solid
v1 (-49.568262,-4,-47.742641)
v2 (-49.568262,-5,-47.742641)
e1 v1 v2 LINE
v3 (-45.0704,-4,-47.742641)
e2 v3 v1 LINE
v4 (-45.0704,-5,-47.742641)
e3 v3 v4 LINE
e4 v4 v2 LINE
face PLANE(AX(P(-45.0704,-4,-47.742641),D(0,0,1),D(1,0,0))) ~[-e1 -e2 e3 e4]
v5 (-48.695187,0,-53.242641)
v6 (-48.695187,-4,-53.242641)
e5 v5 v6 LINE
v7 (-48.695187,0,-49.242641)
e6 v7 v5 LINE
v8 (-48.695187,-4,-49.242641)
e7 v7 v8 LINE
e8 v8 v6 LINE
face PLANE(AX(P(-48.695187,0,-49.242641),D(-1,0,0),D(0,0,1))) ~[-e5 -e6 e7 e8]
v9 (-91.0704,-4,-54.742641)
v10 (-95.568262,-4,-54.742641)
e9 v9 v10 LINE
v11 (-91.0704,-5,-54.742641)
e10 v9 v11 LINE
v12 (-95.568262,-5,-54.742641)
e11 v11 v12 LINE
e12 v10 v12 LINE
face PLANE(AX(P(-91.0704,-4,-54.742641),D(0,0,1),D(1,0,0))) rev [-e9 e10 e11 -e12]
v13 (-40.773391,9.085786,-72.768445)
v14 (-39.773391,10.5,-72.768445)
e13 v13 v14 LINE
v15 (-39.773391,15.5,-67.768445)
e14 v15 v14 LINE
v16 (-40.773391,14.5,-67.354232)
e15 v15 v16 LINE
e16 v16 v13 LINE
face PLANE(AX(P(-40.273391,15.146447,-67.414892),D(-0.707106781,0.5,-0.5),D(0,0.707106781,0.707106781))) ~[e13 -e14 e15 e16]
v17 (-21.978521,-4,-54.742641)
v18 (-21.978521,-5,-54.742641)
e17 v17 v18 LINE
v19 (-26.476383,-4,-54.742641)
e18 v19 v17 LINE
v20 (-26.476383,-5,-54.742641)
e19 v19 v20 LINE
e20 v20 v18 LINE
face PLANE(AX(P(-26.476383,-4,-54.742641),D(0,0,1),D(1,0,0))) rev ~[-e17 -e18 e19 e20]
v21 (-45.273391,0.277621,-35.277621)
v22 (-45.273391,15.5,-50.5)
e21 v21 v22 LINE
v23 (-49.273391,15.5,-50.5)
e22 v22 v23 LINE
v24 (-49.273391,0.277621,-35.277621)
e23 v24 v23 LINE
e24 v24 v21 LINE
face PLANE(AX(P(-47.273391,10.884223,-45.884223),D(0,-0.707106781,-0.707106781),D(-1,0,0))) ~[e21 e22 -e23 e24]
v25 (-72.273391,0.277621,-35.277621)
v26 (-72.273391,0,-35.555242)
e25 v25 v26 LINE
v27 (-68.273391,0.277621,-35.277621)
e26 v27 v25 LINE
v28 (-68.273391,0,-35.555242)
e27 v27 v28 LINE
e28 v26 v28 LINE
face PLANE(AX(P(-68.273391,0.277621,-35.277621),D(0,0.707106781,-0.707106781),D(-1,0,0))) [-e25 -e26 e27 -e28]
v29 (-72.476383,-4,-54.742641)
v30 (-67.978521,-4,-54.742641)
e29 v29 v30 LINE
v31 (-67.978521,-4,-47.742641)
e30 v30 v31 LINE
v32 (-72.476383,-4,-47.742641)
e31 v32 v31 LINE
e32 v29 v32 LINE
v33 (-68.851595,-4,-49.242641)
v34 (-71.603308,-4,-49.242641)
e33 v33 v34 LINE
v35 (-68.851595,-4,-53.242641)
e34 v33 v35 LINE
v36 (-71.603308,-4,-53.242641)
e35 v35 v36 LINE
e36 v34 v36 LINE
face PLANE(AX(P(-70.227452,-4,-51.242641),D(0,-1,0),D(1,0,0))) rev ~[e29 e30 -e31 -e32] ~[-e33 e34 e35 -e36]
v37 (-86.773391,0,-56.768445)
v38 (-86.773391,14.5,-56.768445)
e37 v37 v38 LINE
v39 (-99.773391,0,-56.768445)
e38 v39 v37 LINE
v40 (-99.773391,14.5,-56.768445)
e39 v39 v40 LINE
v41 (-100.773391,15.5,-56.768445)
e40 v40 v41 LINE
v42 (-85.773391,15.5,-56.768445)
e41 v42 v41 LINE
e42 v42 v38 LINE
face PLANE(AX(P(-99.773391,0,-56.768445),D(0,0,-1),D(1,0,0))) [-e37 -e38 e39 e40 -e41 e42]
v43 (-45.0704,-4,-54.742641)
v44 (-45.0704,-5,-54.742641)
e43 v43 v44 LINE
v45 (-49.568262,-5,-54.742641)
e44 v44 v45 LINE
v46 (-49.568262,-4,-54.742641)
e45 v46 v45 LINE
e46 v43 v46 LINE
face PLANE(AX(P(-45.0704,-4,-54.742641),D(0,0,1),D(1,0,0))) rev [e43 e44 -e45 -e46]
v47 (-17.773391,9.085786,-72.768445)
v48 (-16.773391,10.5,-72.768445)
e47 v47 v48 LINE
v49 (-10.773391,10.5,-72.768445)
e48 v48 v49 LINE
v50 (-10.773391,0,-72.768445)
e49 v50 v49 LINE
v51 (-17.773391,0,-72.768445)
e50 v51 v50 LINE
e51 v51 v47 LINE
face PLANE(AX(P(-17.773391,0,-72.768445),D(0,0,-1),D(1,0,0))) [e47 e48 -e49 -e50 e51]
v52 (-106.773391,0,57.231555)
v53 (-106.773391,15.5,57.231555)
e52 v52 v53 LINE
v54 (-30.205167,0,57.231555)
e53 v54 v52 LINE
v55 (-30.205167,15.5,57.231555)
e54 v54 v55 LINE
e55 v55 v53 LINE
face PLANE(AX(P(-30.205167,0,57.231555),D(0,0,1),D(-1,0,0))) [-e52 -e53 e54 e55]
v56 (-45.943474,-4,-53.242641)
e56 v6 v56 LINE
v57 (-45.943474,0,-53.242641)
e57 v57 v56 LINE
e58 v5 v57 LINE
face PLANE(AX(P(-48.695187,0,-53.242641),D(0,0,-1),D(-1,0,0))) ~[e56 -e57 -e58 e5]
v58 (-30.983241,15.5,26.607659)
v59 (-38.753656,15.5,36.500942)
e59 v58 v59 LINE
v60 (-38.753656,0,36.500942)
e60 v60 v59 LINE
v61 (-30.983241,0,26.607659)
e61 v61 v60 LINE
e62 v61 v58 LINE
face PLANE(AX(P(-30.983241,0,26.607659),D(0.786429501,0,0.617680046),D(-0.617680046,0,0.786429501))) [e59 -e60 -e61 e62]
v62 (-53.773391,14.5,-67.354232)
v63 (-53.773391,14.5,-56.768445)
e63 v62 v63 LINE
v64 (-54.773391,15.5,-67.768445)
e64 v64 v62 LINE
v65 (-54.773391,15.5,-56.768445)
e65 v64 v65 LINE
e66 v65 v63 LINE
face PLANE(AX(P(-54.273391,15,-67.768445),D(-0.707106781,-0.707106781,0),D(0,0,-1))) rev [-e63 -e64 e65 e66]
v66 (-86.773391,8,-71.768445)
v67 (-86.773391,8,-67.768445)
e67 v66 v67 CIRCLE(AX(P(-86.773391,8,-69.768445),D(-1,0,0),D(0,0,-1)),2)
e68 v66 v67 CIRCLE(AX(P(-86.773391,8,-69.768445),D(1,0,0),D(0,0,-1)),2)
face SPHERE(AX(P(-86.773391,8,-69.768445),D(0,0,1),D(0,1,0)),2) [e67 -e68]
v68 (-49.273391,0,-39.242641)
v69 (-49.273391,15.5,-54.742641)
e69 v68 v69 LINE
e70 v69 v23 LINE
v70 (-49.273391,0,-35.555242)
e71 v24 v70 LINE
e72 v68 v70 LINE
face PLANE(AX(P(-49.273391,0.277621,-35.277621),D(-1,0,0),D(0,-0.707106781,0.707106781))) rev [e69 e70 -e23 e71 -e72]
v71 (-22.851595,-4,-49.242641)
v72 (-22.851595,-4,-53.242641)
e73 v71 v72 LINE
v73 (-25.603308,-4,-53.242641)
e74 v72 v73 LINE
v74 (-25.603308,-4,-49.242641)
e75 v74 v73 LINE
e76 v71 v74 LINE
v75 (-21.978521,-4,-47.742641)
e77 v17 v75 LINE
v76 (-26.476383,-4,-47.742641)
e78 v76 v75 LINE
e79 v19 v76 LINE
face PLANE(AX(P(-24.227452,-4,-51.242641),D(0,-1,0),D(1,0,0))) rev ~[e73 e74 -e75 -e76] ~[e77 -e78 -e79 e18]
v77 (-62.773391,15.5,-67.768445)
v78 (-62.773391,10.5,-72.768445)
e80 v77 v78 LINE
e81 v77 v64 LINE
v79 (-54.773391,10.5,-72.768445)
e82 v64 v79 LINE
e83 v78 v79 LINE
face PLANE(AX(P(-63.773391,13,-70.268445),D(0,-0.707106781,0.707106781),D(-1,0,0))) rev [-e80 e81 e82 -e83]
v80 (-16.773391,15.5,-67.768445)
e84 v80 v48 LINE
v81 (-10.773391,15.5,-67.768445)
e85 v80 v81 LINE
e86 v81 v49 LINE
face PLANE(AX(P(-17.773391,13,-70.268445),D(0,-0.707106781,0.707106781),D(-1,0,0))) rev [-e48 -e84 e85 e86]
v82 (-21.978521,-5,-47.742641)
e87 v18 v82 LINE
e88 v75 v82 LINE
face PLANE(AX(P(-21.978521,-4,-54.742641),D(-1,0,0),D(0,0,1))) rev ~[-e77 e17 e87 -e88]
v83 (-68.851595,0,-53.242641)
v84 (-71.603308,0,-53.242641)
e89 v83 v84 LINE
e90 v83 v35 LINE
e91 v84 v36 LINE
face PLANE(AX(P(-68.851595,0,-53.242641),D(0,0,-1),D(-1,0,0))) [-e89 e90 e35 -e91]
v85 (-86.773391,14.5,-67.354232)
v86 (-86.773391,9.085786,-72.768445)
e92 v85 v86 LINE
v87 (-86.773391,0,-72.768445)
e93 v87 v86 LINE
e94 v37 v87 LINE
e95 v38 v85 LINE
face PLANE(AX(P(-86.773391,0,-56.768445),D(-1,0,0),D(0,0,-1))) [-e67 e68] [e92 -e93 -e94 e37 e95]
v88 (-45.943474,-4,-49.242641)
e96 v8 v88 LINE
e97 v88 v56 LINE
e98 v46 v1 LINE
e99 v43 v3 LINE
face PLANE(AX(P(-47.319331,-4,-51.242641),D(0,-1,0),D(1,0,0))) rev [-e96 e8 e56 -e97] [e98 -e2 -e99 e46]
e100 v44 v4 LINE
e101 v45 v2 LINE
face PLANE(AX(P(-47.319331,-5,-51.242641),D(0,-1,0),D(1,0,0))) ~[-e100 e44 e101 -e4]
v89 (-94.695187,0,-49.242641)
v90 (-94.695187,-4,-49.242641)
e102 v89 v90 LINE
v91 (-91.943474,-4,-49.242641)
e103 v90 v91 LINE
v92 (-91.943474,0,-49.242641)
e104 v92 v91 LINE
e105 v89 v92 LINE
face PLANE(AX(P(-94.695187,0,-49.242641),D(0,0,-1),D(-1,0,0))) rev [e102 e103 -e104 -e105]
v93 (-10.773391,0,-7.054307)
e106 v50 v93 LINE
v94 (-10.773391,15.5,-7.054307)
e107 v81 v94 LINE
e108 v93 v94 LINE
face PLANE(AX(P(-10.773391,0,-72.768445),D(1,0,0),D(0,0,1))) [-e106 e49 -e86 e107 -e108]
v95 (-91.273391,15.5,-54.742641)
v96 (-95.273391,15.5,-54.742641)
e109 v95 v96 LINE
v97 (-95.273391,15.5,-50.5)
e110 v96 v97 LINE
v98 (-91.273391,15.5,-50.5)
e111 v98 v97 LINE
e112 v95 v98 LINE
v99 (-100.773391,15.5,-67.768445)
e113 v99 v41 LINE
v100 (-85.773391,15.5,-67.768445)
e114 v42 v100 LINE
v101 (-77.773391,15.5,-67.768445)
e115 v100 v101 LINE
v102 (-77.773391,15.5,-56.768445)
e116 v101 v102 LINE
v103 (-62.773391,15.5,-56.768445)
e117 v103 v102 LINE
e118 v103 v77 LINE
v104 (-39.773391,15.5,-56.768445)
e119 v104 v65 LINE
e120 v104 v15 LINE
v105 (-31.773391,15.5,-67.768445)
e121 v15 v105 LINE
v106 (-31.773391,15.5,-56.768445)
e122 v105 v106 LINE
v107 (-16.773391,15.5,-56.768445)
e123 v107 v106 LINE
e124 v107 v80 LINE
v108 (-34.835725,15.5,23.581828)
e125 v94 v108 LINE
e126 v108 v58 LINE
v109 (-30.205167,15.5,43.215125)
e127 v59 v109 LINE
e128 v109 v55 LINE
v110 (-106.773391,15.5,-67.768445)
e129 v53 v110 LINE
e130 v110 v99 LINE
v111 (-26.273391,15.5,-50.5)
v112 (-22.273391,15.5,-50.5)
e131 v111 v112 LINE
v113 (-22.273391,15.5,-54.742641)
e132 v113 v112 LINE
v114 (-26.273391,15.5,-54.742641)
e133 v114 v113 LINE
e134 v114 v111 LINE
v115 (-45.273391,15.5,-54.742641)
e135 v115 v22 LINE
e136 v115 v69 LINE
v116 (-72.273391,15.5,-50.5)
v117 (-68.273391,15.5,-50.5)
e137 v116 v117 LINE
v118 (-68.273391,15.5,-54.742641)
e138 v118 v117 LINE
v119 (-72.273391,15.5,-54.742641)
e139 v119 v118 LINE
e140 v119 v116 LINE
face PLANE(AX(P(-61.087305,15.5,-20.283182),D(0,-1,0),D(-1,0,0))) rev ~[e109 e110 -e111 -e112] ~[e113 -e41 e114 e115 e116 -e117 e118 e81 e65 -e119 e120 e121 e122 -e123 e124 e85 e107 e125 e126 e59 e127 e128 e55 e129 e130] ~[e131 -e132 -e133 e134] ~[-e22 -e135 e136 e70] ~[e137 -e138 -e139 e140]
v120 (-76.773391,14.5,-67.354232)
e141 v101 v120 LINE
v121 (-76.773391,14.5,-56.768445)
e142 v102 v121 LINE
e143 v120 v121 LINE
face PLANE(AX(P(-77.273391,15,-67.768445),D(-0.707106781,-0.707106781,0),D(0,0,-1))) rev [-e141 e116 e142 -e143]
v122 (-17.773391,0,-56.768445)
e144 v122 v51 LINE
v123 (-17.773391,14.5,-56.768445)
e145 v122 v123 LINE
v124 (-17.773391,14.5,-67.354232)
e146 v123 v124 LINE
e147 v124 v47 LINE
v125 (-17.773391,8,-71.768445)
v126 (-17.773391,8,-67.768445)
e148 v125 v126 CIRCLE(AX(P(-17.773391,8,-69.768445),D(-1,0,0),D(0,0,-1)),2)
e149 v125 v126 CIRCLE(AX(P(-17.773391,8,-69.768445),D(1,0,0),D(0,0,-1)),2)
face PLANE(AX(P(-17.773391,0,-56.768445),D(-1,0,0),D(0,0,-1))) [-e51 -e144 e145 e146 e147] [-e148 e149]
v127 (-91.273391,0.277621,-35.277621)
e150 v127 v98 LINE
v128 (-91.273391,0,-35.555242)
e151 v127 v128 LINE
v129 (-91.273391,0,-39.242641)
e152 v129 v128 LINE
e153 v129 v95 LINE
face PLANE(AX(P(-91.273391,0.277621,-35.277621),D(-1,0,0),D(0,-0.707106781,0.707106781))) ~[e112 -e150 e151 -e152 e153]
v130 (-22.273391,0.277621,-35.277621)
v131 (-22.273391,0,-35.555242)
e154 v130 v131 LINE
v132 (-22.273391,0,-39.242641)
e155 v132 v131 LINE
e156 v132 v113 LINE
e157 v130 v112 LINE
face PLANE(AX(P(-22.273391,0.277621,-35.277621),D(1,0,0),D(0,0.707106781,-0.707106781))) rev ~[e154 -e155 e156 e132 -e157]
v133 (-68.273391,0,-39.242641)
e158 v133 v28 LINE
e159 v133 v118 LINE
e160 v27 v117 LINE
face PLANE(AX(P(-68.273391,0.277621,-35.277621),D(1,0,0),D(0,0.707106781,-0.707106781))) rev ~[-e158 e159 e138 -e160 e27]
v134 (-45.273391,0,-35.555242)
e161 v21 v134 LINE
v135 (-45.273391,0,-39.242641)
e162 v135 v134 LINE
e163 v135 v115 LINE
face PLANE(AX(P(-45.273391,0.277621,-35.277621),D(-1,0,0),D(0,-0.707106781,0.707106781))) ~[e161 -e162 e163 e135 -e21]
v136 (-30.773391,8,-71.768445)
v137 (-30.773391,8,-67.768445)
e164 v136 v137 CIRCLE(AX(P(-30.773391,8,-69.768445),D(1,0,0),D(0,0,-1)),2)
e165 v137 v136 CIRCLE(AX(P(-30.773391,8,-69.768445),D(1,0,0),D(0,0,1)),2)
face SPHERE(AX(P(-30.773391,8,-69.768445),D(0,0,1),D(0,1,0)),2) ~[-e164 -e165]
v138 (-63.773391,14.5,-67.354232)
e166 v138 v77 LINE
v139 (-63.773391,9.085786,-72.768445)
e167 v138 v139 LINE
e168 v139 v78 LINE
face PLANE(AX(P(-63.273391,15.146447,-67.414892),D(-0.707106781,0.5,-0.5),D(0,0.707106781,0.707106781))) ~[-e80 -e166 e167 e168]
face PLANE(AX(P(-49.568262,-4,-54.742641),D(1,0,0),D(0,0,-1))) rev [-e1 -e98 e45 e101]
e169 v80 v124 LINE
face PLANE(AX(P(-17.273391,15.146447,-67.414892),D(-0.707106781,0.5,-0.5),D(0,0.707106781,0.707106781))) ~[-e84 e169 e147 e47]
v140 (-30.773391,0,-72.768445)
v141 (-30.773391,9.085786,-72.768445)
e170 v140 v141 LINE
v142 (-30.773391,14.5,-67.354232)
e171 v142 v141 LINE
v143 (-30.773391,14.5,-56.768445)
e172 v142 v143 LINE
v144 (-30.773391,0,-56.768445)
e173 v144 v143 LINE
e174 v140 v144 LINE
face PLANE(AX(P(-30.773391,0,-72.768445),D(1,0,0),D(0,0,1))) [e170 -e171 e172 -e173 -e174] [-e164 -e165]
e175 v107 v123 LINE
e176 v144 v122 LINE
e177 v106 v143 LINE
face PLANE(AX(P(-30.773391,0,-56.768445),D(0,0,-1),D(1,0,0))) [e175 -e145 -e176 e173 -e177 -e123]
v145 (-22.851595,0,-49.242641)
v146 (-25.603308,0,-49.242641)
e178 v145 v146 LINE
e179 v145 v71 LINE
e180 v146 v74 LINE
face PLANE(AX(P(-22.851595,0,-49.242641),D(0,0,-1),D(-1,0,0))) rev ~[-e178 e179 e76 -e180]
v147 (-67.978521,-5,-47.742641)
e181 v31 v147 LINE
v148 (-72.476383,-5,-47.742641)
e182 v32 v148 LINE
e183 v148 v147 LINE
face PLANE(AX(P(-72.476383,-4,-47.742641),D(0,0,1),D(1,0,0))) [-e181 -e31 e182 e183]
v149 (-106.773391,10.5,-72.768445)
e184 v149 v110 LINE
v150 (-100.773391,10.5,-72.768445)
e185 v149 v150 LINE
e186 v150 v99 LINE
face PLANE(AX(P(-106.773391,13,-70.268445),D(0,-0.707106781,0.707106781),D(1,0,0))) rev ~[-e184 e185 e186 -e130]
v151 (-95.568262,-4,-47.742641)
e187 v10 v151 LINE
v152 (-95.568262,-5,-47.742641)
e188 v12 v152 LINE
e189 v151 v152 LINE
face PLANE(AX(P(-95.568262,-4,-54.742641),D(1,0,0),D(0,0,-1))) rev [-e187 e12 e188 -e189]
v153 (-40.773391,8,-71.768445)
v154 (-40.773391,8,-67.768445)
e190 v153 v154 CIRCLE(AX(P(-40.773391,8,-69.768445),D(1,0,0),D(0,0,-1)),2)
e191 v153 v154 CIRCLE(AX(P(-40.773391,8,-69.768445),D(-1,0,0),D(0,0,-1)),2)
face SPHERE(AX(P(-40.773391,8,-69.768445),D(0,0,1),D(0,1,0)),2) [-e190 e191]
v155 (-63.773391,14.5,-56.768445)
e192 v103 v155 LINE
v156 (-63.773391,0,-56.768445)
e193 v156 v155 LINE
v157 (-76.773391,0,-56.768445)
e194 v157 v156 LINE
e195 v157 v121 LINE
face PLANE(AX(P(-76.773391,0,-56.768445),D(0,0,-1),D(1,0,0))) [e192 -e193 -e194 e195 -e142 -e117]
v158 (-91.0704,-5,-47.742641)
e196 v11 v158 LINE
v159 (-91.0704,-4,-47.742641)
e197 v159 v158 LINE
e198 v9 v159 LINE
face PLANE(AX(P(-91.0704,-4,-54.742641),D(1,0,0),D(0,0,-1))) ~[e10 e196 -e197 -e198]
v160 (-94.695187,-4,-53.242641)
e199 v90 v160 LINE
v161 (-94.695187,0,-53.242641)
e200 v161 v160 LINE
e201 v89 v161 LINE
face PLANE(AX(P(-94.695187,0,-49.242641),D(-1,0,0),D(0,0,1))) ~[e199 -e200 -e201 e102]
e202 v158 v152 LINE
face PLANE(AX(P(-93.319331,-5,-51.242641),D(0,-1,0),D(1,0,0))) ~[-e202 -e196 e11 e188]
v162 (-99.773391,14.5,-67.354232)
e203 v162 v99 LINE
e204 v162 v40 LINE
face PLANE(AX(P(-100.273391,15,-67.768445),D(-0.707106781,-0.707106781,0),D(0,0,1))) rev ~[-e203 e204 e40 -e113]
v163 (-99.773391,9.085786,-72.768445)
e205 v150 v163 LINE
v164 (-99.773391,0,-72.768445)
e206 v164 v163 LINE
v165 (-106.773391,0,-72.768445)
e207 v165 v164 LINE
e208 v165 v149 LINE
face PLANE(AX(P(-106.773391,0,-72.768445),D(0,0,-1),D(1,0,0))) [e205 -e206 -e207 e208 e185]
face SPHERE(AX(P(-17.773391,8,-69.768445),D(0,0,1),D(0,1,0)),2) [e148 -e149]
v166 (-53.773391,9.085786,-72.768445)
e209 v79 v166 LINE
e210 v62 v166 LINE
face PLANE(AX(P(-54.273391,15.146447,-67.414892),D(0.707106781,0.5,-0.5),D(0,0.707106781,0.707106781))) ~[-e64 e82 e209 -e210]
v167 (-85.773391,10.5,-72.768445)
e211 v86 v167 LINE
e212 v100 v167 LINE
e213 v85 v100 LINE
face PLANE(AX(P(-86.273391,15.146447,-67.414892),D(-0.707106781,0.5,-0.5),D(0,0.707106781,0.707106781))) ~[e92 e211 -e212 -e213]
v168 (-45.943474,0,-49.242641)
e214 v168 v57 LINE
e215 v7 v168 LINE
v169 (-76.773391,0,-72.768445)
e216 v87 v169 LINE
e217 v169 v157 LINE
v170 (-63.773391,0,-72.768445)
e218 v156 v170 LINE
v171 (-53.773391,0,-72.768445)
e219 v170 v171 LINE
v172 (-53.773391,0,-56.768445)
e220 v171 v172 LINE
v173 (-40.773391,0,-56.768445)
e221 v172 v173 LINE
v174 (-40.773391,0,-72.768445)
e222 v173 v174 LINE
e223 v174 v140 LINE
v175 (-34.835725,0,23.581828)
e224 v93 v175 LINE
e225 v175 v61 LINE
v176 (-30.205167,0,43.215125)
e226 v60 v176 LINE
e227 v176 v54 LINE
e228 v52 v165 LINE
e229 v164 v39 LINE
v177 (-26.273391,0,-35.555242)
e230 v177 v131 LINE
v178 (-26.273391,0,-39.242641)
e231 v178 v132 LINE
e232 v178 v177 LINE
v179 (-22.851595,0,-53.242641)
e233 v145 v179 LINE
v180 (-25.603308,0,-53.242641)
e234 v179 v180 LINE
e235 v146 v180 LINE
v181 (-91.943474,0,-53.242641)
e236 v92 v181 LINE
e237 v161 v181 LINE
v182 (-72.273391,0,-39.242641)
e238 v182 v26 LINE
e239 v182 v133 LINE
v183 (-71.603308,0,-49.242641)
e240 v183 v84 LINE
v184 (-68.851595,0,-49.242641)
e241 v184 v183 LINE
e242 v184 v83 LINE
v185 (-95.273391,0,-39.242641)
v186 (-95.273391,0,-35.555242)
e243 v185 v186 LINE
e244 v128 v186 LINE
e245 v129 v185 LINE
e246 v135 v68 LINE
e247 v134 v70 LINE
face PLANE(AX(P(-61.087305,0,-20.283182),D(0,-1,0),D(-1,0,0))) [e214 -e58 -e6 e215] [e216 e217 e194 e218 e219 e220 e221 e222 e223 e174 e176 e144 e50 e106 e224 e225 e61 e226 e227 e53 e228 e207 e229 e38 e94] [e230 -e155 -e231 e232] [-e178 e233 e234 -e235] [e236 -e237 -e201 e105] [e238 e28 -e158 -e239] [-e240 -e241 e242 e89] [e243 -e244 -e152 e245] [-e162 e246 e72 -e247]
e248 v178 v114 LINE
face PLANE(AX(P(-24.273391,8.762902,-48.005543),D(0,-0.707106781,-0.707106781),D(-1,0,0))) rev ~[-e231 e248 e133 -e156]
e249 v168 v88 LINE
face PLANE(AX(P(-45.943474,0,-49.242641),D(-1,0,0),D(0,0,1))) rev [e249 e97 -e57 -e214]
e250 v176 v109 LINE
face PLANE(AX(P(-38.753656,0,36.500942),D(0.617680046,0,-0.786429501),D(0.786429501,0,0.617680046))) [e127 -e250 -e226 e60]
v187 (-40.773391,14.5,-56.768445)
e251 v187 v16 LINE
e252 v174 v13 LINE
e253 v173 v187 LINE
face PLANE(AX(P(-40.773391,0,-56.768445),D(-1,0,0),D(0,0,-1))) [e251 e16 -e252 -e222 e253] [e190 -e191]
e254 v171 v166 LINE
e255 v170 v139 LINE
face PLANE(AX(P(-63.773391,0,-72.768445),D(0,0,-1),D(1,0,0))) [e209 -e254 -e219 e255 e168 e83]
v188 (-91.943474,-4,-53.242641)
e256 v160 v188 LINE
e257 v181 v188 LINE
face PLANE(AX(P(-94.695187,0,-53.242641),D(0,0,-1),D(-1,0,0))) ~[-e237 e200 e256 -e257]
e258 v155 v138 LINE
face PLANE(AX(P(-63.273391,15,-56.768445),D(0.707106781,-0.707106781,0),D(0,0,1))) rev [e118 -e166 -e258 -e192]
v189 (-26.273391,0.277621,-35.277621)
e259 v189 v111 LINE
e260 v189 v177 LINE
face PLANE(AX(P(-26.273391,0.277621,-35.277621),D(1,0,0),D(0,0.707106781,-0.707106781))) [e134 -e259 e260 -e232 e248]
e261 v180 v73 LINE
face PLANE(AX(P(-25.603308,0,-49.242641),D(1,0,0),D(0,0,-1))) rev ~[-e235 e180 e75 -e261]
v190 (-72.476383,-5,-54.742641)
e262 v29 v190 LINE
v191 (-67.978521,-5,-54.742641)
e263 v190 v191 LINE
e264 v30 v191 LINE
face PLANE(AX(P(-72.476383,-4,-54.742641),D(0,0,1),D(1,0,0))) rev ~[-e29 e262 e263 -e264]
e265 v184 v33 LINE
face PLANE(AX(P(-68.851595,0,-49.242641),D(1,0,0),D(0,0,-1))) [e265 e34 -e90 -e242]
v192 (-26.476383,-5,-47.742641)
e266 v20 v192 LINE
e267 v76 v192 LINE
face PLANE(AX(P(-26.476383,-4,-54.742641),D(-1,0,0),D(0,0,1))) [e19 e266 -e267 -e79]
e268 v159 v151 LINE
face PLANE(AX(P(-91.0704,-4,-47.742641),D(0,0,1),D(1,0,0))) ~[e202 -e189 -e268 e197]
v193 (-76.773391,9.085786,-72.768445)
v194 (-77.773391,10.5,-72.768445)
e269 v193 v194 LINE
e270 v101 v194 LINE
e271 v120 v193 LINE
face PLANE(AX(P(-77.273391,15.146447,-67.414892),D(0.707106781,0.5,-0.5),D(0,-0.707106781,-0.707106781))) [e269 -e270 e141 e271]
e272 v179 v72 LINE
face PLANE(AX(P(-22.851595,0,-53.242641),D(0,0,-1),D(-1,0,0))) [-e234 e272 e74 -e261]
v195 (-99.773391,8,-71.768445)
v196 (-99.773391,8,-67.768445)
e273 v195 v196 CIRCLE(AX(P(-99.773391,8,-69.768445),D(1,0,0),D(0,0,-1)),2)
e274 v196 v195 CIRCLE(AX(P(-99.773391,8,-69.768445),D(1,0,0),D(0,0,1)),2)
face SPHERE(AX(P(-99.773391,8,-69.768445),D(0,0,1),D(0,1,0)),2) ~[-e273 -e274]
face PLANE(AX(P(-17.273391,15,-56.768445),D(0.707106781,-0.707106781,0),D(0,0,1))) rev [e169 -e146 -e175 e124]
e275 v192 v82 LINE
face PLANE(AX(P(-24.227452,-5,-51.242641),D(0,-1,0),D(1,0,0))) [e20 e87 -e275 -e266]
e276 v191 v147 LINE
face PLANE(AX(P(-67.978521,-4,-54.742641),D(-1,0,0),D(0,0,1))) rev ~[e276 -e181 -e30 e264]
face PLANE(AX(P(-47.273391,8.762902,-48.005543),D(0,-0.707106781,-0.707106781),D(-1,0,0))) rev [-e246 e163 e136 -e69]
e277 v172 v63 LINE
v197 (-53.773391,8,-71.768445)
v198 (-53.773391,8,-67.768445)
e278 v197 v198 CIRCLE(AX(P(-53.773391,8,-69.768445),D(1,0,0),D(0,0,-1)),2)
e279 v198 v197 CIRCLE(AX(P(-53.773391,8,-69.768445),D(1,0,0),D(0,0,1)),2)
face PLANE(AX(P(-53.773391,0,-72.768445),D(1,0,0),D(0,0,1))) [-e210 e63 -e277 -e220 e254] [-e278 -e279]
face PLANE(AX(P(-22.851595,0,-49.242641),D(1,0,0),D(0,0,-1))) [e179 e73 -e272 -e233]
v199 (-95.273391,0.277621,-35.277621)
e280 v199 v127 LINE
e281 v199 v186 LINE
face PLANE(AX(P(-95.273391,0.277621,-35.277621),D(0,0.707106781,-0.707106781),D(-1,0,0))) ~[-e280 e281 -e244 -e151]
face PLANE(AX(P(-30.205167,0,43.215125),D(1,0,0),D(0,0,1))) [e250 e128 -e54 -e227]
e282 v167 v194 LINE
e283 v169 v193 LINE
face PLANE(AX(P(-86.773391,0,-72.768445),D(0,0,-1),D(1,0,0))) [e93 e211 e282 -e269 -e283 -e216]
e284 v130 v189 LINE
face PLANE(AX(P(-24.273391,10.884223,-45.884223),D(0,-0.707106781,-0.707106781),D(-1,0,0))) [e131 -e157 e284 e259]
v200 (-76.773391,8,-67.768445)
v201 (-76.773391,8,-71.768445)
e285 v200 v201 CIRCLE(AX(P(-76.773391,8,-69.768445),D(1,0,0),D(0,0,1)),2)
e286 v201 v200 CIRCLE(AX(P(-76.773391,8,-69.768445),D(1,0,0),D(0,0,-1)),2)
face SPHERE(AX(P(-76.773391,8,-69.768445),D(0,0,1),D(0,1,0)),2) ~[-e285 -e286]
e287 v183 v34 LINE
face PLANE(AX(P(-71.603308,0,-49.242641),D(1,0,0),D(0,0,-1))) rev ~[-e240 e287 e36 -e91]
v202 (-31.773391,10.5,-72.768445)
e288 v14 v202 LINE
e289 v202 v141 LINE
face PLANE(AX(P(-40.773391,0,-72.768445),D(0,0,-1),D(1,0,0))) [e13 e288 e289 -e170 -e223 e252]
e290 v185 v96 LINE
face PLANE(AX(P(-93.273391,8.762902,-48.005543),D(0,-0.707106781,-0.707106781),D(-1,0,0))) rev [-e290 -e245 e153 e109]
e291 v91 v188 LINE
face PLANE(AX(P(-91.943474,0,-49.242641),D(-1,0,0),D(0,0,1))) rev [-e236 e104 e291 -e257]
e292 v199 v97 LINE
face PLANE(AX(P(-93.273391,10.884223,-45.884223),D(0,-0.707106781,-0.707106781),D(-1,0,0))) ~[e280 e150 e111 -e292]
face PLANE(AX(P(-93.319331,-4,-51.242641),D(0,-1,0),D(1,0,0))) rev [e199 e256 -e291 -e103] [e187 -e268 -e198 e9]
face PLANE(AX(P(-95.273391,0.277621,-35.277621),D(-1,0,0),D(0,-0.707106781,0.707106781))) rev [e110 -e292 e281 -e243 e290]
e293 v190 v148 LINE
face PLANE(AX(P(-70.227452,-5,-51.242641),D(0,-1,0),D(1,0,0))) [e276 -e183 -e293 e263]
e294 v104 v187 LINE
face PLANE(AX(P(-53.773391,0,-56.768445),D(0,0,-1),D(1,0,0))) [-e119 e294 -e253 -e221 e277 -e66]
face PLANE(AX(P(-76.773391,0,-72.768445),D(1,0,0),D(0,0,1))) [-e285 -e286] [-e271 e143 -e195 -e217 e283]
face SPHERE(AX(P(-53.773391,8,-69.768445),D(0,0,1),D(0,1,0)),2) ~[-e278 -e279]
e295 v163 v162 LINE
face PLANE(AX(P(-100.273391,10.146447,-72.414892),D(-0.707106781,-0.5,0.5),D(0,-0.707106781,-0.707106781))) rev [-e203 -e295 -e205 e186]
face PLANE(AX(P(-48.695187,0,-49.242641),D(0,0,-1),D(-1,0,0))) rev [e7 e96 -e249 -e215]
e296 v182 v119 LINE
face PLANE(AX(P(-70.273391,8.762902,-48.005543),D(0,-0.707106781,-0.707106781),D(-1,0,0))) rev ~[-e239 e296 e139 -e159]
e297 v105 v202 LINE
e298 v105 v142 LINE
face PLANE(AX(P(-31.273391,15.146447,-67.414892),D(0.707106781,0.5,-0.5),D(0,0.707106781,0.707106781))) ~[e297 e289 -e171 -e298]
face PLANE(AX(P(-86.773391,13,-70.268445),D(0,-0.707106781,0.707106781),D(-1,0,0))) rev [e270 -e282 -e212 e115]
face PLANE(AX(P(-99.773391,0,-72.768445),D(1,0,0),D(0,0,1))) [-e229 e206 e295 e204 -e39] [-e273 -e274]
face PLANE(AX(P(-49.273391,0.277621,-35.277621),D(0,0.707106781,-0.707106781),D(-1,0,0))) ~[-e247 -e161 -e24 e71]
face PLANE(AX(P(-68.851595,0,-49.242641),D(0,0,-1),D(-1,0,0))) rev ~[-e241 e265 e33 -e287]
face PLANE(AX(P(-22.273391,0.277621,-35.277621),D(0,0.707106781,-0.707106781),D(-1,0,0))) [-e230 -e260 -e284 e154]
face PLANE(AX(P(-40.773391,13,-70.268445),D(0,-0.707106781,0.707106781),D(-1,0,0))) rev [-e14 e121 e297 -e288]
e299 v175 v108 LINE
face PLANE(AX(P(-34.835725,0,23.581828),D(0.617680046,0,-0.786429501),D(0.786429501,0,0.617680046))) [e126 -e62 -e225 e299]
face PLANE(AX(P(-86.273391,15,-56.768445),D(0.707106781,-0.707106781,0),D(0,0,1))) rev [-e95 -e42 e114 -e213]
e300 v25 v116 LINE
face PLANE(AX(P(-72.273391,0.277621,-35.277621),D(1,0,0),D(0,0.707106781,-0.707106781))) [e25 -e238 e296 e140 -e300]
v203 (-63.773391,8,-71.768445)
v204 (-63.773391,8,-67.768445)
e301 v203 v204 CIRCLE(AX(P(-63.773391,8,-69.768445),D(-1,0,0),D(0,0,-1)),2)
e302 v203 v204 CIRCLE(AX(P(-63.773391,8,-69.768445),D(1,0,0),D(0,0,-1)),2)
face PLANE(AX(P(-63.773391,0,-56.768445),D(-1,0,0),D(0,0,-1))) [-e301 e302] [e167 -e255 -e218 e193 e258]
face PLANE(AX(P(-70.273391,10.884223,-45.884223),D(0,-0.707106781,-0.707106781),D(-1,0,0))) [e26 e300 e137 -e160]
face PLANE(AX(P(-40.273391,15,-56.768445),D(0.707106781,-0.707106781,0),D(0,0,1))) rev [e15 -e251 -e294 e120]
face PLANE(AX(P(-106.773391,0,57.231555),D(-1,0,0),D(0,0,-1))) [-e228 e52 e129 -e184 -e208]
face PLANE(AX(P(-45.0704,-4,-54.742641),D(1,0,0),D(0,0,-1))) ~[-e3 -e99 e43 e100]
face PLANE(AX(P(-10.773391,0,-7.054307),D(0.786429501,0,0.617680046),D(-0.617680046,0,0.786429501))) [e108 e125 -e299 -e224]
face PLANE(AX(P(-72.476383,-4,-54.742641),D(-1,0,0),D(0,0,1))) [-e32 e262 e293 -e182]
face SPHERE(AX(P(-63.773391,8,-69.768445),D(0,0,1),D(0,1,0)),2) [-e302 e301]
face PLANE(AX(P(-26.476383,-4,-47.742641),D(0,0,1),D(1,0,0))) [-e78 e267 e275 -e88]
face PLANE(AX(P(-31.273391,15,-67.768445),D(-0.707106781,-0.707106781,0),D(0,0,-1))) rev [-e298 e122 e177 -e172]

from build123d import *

# Parameters (mm, degrees)
BOSS_EXTRUDE1_DEPTH     = 15.5
SKETCH10_W              = 4
SKETCH10_H              = 30
CUT_EXTRUDE1_DEPTH      = 3
MIRROR5_COPY_1_SKETCH_W = 4
MIRROR5_COPY_1_SKETCH_H = 30
MIRROR5_COPY_1_DEPTH    = 3
SKETCH14_W              = 2.751713212
SKETCH14_H              = 4
BOSS_EXTRUDE2_DEPTH     = 4
SKETCH15_W              = 4.497862048
SKETCH15_H              = 7
BOSS_EXTRUDE3_DEPTH     = 1
MIRROR7_COPY_1_SKETCH_W = 2.751713212
MIRROR7_COPY_1_SKETCH_H = 4
MIRROR7_COPY_1_DEPTH    = 4
MIRROR7_COPY_2_SKETCH_W = 4.497862048
MIRROR7_COPY_2_SKETCH_H = 7
MIRROR7_COPY_2_DEPTH    = 1
CHAMFER9_SIZE           = 5
CHAMFER10_SIZE          = 1
CHAMFER15_SIZE          = 5
CHAMFER16_SIZE          = 1
CHAMFER17_SIZE          = 1
CHAMFER18_SIZE          = 5
CHAMFER19_SIZE          = 1


with BuildPart() as part:
    # Sketch1 → Boss-Extrude1 (new body)
    with BuildSketch(Plane(origin=(0, 0, 0), x_dir=(1, 0, 0), z_dir=(0, 1, 0))):
        Polygon((-106.77339112, 72.768445428), (-99.77339112, 72.768445428), (-99.77339112, 56.768445428), (-86.77339112, 56.768445428), (-86.77339112, 72.768445428), (-76.77339112, 72.768445428), (-76.77339112, 56.768445428), (-63.77339112, 56.768445428), (-63.77339112, 72.768445428), (-53.77339112, 72.768445428), (-53.77339112, 56.768445428), (-40.77339112, 56.768445428), (-40.77339112, 72.768445428), (-30.77339112, 72.768445428), (-30.77339112, 56.768445428), (-17.77339112, 56.768445428), (-17.77339112, 72.768445428), (-10.77339112, 72.768445428), (-10.77339112, 7.054306764), (-34.835725148, -23.581828326), (-30.98324076, -26.60765929), (-38.753655744, -36.500942414), (-30.205167067, -43.215124519), (-30.205167067, -57.231554572), (-106.77339112, -57.231554572), align=None)
    extrude(amount=BOSS_EXTRUDE1_DEPTH)

    # Sketch4 → Revolve1 (revolve)
    with BuildSketch(Plane(origin=(-99.77339112, 0, 0), x_dir=(0, 0, -1), z_dir=(1, 0, 0))):
        with BuildLine():
            Line((67.768445428, 8), (71.768445428, 8))
            ThreePointArc((71.768445428, 8), (69.768445428, 10), (67.768445428, 8))
        make_face()
    revolve1 = revolve(axis=Axis((-99.77339112, 8, -67.768445428), (0, 0, -1)))

    # Mirror1: Revolve1 across plane
    add(revolve1.mirror(Plane(origin=(-93.27339112, 0, 0), x_dir=(0, 0, 1), z_dir=(1, 0, 0))))

    # Mirror2: Revolve1 across plane
    add(revolve1.mirror(Plane(origin=(-81.77339112, 0, 0), x_dir=(0, 0, 1), z_dir=(1, 0, 0))))

    # Mirror2 copy 1 sketch → Mirror2 copy 1 (revolve)
    with BuildSketch(Plane(origin=(-76.77339112, 0, 0), x_dir=(0, 0, -1), z_dir=(1, 0, 0))):
        with BuildLine():
            Line((67.768445428, 8), (71.768445428, 8))
            ThreePointArc((71.768445428, 8), (69.768445428, 10), (67.768445428, 8))
        make_face()
    revolve(axis=Axis((-76.77339112, 8, -67.768445428), (0, 0, -1)))

    # Mirror3: Revolve1 across plane
    add(revolve1.mirror(Plane(origin=(-58.77339112, 0, 0), x_dir=(0, 0, 1), z_dir=(1, 0, 0))))

    # Mirror3 copy 1 sketch → Mirror3 copy 1 (revolve)
    with BuildSketch(Plane(origin=(-53.77339112, 0, 0), x_dir=(0, 0, -1), z_dir=(1, 0, 0))):
        with BuildLine():
            Line((67.768445428, 8), (71.768445428, 8))
            ThreePointArc((71.768445428, 8), (69.768445428, 10), (67.768445428, 8))
        make_face()
    revolve(axis=Axis((-53.77339112, 8, -67.768445428), (0, 0, -1)))

    # Mirror3 copy 2 sketch → Mirror3 copy 2 (revolve)
    with BuildSketch(Plane(origin=(-40.77339112, 0, 0), x_dir=(0, 0, -1), z_dir=(-1, 0, 0))):
        with BuildLine():
            Line((67.768445428, -8), (71.768445428, -8))
            ThreePointArc((71.768445428, -8), (69.768445428, -10), (67.768445428, -8))
        make_face()
    revolve(axis=Axis((-40.77339112, 8, -67.768445428), (0, 0, 1)))

    # Mirror3 copy 3 sketch → Mirror3 copy 3 (revolve)
    with BuildSketch(Plane(origin=(-30.77339112, 0, 0), x_dir=(0, 0, -1), z_dir=(1, 0, 0))):
        with BuildLine():
            Line((67.768445428, 8), (71.768445428, 8))
            ThreePointArc((71.768445428, 8), (69.768445428, 10), (67.768445428, 8))
        make_face()
    revolve(axis=Axis((-30.77339112, 8, -67.768445428), (0, 0, -1)))

    # Sketch10 → Cut-Extrude1 (cut)
    with BuildSketch(Plane(origin=(0, -17.5, -17.5), x_dir=(-1, 0, 0), z_dir=(0, -0.707106781, -0.707106781))):
        with Locations((24.27339112, 40.141352719)):
            Rectangle(SKETCH10_W, SKETCH10_H)
    cut_extrude1 = extrude(amount=CUT_EXTRUDE1_DEPTH, mode=Mode.SUBTRACT)

    # Mirror4: Cut-Extrude1 across plane
    add(cut_extrude1.mirror(Plane(origin=(-35.77339112, 0, 0), x_dir=(0, 0, 1), z_dir=(1, 0, 0))), mode=Mode.SUBTRACT)

    # Mirror5: Cut-Extrude1 across plane
    add(cut_extrude1.mirror(Plane(origin=(-58.77339112, 0, 0), x_dir=(0, 0, 1), z_dir=(1, 0, 0))), mode=Mode.SUBTRACT)

    # Mirror5 copy 1 sketch → Mirror5 copy 1 (cut)
    with BuildSketch(Plane(origin=(-46, -17.5, -17.5), x_dir=(-1, 0, 0), z_dir=(0, -0.707106781, -0.707106781))):
        with Locations((24.27339112, 40.141352719)):
            Rectangle(MIRROR5_COPY_1_SKETCH_W, MIRROR5_COPY_1_SKETCH_H)
    extrude(amount=MIRROR5_COPY_1_DEPTH, mode=Mode.SUBTRACT)

    # Sketch14 → Boss-Extrude2 (add)
    with BuildSketch(Plane(origin=(0, 0, 0), x_dir=(-1, 0, 0), z_dir=(0, -1, 0))):
        with Locations((24.227451545, 51.242640687)):
            Rectangle(SKETCH14_W, SKETCH14_H)
    boss_extrude2 = extrude(amount=BOSS_EXTRUDE2_DEPTH)

    # Sketch15 → Boss-Extrude3 (add)
    with BuildSketch(Plane.XZ.offset(4)):
        with Locations((-24.227451545, -51.242640687)):
            Rectangle(SKETCH15_W, SKETCH15_H)
    boss_extrude3 = extrude(amount=BOSS_EXTRUDE3_DEPTH)

    # Mirror6: Boss-Extrude2, Boss-Extrude3 across plane
    add(boss_extrude2.mirror(Plane(origin=(-35.77339112, 0, 0), x_dir=(0, 0, 1), z_dir=(1, 0, 0))))
    add(boss_extrude3.mirror(Plane(origin=(-35.77339112, 0, 0), x_dir=(0, 0, 1), z_dir=(1, 0, 0))))

    # Mirror7: Boss-Extrude2, Boss-Extrude3 across plane
    add(boss_extrude2.mirror(Plane(origin=(-58.77339112, 0, 0), x_dir=(0, 0, 1), z_dir=(1, 0, 0))))
    add(boss_extrude3.mirror(Plane(origin=(-58.77339112, 0, 0), x_dir=(0, 0, 1), z_dir=(1, 0, 0))))

    # Mirror7 copy 1 sketch → Mirror7 copy 1 (add)
    with BuildSketch(Plane(origin=(-46, 0, 0), x_dir=(-1, 0, 0), z_dir=(0, -1, 0))):
        with Locations((24.227451545, 51.242640687)):
            Rectangle(MIRROR7_COPY_1_SKETCH_W, MIRROR7_COPY_1_SKETCH_H)
    extrude(amount=MIRROR7_COPY_1_DEPTH)

    # Mirror7 copy 2 sketch → Mirror7 copy 2 (add)
    with BuildSketch(Plane(origin=(-46, -4, 0), x_dir=(1, 0, 0), z_dir=(0, -1, 0))):
        with Locations((-24.227451545, -51.242640687)):
            Rectangle(MIRROR7_COPY_2_SKETCH_W, MIRROR7_COPY_2_SKETCH_H)
    extrude(amount=MIRROR7_COPY_2_DEPTH)

    # Chamfer9
    chamfer9_edges = [part.edges().sort_by_distance(p)[0] for p in [
        (-103.27339112, 15.5, -72.768445428),
    ]]
    chamfer(chamfer9_edges, length=CHAMFER9_SIZE)

    # Chamfer10
    chamfer10_edges = [part.edges().sort_by_distance(p)[0] for p in [
        (-99.77339112, 15.5, -62.268445428),
        (-99.77339112, 13, -70.268445428),
    ]]
    chamfer(chamfer10_edges, length=CHAMFER10_SIZE)

    # Chamfer15
    chamfer15_edges = [part.edges().sort_by_distance(p)[0] for p in [
        (-81.77339112, 15.5, -72.768445428),
    ]]
    chamfer(chamfer15_edges, length=CHAMFER15_SIZE)

    # Chamfer16
    chamfer16_edges = [part.edges().sort_by_distance(p)[0] for p in [
        (-86.77339112, 13, -70.268445428),
        (-86.77339112, 15.5, -62.268445428),
    ]]
    chamfer(chamfer16_edges, length=CHAMFER16_SIZE)

    # Chamfer17
    chamfer17_edges = [part.edges().sort_by_distance(p)[0] for p in [
        (-76.77339112, 15.5, -62.268445428),
        (-76.77339112, 13, -70.268445428),
    ]]
    chamfer(chamfer17_edges, length=CHAMFER17_SIZE)

    # Chamfer18
    chamfer18_edges = [part.edges().sort_by_distance(p)[0] for p in [
        (-14.27339112, 15.5, -72.768445428),
        (-35.77339112, 15.5, -72.768445428),
        (-58.77339112, 15.5, -72.768445428),
    ]]
    chamfer(chamfer18_edges, length=CHAMFER18_SIZE)

    # Chamfer19
    chamfer19_edges = [part.edges().sort_by_distance(p)[0] for p in [
        (-17.77339112, 15.5, -62.268445428),
        (-40.77339112, 15.5, -62.268445428),
        (-30.77339112, 15.5, -62.268445428),
        (-53.77339112, 15.5, -62.268445428),
        (-17.77339112, 13, -70.268445428),
        (-30.77339112, 13, -70.268445428),
        (-40.77339112, 13, -70.268445428),
        (-53.77339112, 13, -70.268445428),
        (-63.77339112, 13, -70.268445428),
        (-63.77339112, 15.5, -62.268445428),
    ]]
    chamfer(chamfer19_edges, length=CHAMFER19_SIZE)


solid = part.part
